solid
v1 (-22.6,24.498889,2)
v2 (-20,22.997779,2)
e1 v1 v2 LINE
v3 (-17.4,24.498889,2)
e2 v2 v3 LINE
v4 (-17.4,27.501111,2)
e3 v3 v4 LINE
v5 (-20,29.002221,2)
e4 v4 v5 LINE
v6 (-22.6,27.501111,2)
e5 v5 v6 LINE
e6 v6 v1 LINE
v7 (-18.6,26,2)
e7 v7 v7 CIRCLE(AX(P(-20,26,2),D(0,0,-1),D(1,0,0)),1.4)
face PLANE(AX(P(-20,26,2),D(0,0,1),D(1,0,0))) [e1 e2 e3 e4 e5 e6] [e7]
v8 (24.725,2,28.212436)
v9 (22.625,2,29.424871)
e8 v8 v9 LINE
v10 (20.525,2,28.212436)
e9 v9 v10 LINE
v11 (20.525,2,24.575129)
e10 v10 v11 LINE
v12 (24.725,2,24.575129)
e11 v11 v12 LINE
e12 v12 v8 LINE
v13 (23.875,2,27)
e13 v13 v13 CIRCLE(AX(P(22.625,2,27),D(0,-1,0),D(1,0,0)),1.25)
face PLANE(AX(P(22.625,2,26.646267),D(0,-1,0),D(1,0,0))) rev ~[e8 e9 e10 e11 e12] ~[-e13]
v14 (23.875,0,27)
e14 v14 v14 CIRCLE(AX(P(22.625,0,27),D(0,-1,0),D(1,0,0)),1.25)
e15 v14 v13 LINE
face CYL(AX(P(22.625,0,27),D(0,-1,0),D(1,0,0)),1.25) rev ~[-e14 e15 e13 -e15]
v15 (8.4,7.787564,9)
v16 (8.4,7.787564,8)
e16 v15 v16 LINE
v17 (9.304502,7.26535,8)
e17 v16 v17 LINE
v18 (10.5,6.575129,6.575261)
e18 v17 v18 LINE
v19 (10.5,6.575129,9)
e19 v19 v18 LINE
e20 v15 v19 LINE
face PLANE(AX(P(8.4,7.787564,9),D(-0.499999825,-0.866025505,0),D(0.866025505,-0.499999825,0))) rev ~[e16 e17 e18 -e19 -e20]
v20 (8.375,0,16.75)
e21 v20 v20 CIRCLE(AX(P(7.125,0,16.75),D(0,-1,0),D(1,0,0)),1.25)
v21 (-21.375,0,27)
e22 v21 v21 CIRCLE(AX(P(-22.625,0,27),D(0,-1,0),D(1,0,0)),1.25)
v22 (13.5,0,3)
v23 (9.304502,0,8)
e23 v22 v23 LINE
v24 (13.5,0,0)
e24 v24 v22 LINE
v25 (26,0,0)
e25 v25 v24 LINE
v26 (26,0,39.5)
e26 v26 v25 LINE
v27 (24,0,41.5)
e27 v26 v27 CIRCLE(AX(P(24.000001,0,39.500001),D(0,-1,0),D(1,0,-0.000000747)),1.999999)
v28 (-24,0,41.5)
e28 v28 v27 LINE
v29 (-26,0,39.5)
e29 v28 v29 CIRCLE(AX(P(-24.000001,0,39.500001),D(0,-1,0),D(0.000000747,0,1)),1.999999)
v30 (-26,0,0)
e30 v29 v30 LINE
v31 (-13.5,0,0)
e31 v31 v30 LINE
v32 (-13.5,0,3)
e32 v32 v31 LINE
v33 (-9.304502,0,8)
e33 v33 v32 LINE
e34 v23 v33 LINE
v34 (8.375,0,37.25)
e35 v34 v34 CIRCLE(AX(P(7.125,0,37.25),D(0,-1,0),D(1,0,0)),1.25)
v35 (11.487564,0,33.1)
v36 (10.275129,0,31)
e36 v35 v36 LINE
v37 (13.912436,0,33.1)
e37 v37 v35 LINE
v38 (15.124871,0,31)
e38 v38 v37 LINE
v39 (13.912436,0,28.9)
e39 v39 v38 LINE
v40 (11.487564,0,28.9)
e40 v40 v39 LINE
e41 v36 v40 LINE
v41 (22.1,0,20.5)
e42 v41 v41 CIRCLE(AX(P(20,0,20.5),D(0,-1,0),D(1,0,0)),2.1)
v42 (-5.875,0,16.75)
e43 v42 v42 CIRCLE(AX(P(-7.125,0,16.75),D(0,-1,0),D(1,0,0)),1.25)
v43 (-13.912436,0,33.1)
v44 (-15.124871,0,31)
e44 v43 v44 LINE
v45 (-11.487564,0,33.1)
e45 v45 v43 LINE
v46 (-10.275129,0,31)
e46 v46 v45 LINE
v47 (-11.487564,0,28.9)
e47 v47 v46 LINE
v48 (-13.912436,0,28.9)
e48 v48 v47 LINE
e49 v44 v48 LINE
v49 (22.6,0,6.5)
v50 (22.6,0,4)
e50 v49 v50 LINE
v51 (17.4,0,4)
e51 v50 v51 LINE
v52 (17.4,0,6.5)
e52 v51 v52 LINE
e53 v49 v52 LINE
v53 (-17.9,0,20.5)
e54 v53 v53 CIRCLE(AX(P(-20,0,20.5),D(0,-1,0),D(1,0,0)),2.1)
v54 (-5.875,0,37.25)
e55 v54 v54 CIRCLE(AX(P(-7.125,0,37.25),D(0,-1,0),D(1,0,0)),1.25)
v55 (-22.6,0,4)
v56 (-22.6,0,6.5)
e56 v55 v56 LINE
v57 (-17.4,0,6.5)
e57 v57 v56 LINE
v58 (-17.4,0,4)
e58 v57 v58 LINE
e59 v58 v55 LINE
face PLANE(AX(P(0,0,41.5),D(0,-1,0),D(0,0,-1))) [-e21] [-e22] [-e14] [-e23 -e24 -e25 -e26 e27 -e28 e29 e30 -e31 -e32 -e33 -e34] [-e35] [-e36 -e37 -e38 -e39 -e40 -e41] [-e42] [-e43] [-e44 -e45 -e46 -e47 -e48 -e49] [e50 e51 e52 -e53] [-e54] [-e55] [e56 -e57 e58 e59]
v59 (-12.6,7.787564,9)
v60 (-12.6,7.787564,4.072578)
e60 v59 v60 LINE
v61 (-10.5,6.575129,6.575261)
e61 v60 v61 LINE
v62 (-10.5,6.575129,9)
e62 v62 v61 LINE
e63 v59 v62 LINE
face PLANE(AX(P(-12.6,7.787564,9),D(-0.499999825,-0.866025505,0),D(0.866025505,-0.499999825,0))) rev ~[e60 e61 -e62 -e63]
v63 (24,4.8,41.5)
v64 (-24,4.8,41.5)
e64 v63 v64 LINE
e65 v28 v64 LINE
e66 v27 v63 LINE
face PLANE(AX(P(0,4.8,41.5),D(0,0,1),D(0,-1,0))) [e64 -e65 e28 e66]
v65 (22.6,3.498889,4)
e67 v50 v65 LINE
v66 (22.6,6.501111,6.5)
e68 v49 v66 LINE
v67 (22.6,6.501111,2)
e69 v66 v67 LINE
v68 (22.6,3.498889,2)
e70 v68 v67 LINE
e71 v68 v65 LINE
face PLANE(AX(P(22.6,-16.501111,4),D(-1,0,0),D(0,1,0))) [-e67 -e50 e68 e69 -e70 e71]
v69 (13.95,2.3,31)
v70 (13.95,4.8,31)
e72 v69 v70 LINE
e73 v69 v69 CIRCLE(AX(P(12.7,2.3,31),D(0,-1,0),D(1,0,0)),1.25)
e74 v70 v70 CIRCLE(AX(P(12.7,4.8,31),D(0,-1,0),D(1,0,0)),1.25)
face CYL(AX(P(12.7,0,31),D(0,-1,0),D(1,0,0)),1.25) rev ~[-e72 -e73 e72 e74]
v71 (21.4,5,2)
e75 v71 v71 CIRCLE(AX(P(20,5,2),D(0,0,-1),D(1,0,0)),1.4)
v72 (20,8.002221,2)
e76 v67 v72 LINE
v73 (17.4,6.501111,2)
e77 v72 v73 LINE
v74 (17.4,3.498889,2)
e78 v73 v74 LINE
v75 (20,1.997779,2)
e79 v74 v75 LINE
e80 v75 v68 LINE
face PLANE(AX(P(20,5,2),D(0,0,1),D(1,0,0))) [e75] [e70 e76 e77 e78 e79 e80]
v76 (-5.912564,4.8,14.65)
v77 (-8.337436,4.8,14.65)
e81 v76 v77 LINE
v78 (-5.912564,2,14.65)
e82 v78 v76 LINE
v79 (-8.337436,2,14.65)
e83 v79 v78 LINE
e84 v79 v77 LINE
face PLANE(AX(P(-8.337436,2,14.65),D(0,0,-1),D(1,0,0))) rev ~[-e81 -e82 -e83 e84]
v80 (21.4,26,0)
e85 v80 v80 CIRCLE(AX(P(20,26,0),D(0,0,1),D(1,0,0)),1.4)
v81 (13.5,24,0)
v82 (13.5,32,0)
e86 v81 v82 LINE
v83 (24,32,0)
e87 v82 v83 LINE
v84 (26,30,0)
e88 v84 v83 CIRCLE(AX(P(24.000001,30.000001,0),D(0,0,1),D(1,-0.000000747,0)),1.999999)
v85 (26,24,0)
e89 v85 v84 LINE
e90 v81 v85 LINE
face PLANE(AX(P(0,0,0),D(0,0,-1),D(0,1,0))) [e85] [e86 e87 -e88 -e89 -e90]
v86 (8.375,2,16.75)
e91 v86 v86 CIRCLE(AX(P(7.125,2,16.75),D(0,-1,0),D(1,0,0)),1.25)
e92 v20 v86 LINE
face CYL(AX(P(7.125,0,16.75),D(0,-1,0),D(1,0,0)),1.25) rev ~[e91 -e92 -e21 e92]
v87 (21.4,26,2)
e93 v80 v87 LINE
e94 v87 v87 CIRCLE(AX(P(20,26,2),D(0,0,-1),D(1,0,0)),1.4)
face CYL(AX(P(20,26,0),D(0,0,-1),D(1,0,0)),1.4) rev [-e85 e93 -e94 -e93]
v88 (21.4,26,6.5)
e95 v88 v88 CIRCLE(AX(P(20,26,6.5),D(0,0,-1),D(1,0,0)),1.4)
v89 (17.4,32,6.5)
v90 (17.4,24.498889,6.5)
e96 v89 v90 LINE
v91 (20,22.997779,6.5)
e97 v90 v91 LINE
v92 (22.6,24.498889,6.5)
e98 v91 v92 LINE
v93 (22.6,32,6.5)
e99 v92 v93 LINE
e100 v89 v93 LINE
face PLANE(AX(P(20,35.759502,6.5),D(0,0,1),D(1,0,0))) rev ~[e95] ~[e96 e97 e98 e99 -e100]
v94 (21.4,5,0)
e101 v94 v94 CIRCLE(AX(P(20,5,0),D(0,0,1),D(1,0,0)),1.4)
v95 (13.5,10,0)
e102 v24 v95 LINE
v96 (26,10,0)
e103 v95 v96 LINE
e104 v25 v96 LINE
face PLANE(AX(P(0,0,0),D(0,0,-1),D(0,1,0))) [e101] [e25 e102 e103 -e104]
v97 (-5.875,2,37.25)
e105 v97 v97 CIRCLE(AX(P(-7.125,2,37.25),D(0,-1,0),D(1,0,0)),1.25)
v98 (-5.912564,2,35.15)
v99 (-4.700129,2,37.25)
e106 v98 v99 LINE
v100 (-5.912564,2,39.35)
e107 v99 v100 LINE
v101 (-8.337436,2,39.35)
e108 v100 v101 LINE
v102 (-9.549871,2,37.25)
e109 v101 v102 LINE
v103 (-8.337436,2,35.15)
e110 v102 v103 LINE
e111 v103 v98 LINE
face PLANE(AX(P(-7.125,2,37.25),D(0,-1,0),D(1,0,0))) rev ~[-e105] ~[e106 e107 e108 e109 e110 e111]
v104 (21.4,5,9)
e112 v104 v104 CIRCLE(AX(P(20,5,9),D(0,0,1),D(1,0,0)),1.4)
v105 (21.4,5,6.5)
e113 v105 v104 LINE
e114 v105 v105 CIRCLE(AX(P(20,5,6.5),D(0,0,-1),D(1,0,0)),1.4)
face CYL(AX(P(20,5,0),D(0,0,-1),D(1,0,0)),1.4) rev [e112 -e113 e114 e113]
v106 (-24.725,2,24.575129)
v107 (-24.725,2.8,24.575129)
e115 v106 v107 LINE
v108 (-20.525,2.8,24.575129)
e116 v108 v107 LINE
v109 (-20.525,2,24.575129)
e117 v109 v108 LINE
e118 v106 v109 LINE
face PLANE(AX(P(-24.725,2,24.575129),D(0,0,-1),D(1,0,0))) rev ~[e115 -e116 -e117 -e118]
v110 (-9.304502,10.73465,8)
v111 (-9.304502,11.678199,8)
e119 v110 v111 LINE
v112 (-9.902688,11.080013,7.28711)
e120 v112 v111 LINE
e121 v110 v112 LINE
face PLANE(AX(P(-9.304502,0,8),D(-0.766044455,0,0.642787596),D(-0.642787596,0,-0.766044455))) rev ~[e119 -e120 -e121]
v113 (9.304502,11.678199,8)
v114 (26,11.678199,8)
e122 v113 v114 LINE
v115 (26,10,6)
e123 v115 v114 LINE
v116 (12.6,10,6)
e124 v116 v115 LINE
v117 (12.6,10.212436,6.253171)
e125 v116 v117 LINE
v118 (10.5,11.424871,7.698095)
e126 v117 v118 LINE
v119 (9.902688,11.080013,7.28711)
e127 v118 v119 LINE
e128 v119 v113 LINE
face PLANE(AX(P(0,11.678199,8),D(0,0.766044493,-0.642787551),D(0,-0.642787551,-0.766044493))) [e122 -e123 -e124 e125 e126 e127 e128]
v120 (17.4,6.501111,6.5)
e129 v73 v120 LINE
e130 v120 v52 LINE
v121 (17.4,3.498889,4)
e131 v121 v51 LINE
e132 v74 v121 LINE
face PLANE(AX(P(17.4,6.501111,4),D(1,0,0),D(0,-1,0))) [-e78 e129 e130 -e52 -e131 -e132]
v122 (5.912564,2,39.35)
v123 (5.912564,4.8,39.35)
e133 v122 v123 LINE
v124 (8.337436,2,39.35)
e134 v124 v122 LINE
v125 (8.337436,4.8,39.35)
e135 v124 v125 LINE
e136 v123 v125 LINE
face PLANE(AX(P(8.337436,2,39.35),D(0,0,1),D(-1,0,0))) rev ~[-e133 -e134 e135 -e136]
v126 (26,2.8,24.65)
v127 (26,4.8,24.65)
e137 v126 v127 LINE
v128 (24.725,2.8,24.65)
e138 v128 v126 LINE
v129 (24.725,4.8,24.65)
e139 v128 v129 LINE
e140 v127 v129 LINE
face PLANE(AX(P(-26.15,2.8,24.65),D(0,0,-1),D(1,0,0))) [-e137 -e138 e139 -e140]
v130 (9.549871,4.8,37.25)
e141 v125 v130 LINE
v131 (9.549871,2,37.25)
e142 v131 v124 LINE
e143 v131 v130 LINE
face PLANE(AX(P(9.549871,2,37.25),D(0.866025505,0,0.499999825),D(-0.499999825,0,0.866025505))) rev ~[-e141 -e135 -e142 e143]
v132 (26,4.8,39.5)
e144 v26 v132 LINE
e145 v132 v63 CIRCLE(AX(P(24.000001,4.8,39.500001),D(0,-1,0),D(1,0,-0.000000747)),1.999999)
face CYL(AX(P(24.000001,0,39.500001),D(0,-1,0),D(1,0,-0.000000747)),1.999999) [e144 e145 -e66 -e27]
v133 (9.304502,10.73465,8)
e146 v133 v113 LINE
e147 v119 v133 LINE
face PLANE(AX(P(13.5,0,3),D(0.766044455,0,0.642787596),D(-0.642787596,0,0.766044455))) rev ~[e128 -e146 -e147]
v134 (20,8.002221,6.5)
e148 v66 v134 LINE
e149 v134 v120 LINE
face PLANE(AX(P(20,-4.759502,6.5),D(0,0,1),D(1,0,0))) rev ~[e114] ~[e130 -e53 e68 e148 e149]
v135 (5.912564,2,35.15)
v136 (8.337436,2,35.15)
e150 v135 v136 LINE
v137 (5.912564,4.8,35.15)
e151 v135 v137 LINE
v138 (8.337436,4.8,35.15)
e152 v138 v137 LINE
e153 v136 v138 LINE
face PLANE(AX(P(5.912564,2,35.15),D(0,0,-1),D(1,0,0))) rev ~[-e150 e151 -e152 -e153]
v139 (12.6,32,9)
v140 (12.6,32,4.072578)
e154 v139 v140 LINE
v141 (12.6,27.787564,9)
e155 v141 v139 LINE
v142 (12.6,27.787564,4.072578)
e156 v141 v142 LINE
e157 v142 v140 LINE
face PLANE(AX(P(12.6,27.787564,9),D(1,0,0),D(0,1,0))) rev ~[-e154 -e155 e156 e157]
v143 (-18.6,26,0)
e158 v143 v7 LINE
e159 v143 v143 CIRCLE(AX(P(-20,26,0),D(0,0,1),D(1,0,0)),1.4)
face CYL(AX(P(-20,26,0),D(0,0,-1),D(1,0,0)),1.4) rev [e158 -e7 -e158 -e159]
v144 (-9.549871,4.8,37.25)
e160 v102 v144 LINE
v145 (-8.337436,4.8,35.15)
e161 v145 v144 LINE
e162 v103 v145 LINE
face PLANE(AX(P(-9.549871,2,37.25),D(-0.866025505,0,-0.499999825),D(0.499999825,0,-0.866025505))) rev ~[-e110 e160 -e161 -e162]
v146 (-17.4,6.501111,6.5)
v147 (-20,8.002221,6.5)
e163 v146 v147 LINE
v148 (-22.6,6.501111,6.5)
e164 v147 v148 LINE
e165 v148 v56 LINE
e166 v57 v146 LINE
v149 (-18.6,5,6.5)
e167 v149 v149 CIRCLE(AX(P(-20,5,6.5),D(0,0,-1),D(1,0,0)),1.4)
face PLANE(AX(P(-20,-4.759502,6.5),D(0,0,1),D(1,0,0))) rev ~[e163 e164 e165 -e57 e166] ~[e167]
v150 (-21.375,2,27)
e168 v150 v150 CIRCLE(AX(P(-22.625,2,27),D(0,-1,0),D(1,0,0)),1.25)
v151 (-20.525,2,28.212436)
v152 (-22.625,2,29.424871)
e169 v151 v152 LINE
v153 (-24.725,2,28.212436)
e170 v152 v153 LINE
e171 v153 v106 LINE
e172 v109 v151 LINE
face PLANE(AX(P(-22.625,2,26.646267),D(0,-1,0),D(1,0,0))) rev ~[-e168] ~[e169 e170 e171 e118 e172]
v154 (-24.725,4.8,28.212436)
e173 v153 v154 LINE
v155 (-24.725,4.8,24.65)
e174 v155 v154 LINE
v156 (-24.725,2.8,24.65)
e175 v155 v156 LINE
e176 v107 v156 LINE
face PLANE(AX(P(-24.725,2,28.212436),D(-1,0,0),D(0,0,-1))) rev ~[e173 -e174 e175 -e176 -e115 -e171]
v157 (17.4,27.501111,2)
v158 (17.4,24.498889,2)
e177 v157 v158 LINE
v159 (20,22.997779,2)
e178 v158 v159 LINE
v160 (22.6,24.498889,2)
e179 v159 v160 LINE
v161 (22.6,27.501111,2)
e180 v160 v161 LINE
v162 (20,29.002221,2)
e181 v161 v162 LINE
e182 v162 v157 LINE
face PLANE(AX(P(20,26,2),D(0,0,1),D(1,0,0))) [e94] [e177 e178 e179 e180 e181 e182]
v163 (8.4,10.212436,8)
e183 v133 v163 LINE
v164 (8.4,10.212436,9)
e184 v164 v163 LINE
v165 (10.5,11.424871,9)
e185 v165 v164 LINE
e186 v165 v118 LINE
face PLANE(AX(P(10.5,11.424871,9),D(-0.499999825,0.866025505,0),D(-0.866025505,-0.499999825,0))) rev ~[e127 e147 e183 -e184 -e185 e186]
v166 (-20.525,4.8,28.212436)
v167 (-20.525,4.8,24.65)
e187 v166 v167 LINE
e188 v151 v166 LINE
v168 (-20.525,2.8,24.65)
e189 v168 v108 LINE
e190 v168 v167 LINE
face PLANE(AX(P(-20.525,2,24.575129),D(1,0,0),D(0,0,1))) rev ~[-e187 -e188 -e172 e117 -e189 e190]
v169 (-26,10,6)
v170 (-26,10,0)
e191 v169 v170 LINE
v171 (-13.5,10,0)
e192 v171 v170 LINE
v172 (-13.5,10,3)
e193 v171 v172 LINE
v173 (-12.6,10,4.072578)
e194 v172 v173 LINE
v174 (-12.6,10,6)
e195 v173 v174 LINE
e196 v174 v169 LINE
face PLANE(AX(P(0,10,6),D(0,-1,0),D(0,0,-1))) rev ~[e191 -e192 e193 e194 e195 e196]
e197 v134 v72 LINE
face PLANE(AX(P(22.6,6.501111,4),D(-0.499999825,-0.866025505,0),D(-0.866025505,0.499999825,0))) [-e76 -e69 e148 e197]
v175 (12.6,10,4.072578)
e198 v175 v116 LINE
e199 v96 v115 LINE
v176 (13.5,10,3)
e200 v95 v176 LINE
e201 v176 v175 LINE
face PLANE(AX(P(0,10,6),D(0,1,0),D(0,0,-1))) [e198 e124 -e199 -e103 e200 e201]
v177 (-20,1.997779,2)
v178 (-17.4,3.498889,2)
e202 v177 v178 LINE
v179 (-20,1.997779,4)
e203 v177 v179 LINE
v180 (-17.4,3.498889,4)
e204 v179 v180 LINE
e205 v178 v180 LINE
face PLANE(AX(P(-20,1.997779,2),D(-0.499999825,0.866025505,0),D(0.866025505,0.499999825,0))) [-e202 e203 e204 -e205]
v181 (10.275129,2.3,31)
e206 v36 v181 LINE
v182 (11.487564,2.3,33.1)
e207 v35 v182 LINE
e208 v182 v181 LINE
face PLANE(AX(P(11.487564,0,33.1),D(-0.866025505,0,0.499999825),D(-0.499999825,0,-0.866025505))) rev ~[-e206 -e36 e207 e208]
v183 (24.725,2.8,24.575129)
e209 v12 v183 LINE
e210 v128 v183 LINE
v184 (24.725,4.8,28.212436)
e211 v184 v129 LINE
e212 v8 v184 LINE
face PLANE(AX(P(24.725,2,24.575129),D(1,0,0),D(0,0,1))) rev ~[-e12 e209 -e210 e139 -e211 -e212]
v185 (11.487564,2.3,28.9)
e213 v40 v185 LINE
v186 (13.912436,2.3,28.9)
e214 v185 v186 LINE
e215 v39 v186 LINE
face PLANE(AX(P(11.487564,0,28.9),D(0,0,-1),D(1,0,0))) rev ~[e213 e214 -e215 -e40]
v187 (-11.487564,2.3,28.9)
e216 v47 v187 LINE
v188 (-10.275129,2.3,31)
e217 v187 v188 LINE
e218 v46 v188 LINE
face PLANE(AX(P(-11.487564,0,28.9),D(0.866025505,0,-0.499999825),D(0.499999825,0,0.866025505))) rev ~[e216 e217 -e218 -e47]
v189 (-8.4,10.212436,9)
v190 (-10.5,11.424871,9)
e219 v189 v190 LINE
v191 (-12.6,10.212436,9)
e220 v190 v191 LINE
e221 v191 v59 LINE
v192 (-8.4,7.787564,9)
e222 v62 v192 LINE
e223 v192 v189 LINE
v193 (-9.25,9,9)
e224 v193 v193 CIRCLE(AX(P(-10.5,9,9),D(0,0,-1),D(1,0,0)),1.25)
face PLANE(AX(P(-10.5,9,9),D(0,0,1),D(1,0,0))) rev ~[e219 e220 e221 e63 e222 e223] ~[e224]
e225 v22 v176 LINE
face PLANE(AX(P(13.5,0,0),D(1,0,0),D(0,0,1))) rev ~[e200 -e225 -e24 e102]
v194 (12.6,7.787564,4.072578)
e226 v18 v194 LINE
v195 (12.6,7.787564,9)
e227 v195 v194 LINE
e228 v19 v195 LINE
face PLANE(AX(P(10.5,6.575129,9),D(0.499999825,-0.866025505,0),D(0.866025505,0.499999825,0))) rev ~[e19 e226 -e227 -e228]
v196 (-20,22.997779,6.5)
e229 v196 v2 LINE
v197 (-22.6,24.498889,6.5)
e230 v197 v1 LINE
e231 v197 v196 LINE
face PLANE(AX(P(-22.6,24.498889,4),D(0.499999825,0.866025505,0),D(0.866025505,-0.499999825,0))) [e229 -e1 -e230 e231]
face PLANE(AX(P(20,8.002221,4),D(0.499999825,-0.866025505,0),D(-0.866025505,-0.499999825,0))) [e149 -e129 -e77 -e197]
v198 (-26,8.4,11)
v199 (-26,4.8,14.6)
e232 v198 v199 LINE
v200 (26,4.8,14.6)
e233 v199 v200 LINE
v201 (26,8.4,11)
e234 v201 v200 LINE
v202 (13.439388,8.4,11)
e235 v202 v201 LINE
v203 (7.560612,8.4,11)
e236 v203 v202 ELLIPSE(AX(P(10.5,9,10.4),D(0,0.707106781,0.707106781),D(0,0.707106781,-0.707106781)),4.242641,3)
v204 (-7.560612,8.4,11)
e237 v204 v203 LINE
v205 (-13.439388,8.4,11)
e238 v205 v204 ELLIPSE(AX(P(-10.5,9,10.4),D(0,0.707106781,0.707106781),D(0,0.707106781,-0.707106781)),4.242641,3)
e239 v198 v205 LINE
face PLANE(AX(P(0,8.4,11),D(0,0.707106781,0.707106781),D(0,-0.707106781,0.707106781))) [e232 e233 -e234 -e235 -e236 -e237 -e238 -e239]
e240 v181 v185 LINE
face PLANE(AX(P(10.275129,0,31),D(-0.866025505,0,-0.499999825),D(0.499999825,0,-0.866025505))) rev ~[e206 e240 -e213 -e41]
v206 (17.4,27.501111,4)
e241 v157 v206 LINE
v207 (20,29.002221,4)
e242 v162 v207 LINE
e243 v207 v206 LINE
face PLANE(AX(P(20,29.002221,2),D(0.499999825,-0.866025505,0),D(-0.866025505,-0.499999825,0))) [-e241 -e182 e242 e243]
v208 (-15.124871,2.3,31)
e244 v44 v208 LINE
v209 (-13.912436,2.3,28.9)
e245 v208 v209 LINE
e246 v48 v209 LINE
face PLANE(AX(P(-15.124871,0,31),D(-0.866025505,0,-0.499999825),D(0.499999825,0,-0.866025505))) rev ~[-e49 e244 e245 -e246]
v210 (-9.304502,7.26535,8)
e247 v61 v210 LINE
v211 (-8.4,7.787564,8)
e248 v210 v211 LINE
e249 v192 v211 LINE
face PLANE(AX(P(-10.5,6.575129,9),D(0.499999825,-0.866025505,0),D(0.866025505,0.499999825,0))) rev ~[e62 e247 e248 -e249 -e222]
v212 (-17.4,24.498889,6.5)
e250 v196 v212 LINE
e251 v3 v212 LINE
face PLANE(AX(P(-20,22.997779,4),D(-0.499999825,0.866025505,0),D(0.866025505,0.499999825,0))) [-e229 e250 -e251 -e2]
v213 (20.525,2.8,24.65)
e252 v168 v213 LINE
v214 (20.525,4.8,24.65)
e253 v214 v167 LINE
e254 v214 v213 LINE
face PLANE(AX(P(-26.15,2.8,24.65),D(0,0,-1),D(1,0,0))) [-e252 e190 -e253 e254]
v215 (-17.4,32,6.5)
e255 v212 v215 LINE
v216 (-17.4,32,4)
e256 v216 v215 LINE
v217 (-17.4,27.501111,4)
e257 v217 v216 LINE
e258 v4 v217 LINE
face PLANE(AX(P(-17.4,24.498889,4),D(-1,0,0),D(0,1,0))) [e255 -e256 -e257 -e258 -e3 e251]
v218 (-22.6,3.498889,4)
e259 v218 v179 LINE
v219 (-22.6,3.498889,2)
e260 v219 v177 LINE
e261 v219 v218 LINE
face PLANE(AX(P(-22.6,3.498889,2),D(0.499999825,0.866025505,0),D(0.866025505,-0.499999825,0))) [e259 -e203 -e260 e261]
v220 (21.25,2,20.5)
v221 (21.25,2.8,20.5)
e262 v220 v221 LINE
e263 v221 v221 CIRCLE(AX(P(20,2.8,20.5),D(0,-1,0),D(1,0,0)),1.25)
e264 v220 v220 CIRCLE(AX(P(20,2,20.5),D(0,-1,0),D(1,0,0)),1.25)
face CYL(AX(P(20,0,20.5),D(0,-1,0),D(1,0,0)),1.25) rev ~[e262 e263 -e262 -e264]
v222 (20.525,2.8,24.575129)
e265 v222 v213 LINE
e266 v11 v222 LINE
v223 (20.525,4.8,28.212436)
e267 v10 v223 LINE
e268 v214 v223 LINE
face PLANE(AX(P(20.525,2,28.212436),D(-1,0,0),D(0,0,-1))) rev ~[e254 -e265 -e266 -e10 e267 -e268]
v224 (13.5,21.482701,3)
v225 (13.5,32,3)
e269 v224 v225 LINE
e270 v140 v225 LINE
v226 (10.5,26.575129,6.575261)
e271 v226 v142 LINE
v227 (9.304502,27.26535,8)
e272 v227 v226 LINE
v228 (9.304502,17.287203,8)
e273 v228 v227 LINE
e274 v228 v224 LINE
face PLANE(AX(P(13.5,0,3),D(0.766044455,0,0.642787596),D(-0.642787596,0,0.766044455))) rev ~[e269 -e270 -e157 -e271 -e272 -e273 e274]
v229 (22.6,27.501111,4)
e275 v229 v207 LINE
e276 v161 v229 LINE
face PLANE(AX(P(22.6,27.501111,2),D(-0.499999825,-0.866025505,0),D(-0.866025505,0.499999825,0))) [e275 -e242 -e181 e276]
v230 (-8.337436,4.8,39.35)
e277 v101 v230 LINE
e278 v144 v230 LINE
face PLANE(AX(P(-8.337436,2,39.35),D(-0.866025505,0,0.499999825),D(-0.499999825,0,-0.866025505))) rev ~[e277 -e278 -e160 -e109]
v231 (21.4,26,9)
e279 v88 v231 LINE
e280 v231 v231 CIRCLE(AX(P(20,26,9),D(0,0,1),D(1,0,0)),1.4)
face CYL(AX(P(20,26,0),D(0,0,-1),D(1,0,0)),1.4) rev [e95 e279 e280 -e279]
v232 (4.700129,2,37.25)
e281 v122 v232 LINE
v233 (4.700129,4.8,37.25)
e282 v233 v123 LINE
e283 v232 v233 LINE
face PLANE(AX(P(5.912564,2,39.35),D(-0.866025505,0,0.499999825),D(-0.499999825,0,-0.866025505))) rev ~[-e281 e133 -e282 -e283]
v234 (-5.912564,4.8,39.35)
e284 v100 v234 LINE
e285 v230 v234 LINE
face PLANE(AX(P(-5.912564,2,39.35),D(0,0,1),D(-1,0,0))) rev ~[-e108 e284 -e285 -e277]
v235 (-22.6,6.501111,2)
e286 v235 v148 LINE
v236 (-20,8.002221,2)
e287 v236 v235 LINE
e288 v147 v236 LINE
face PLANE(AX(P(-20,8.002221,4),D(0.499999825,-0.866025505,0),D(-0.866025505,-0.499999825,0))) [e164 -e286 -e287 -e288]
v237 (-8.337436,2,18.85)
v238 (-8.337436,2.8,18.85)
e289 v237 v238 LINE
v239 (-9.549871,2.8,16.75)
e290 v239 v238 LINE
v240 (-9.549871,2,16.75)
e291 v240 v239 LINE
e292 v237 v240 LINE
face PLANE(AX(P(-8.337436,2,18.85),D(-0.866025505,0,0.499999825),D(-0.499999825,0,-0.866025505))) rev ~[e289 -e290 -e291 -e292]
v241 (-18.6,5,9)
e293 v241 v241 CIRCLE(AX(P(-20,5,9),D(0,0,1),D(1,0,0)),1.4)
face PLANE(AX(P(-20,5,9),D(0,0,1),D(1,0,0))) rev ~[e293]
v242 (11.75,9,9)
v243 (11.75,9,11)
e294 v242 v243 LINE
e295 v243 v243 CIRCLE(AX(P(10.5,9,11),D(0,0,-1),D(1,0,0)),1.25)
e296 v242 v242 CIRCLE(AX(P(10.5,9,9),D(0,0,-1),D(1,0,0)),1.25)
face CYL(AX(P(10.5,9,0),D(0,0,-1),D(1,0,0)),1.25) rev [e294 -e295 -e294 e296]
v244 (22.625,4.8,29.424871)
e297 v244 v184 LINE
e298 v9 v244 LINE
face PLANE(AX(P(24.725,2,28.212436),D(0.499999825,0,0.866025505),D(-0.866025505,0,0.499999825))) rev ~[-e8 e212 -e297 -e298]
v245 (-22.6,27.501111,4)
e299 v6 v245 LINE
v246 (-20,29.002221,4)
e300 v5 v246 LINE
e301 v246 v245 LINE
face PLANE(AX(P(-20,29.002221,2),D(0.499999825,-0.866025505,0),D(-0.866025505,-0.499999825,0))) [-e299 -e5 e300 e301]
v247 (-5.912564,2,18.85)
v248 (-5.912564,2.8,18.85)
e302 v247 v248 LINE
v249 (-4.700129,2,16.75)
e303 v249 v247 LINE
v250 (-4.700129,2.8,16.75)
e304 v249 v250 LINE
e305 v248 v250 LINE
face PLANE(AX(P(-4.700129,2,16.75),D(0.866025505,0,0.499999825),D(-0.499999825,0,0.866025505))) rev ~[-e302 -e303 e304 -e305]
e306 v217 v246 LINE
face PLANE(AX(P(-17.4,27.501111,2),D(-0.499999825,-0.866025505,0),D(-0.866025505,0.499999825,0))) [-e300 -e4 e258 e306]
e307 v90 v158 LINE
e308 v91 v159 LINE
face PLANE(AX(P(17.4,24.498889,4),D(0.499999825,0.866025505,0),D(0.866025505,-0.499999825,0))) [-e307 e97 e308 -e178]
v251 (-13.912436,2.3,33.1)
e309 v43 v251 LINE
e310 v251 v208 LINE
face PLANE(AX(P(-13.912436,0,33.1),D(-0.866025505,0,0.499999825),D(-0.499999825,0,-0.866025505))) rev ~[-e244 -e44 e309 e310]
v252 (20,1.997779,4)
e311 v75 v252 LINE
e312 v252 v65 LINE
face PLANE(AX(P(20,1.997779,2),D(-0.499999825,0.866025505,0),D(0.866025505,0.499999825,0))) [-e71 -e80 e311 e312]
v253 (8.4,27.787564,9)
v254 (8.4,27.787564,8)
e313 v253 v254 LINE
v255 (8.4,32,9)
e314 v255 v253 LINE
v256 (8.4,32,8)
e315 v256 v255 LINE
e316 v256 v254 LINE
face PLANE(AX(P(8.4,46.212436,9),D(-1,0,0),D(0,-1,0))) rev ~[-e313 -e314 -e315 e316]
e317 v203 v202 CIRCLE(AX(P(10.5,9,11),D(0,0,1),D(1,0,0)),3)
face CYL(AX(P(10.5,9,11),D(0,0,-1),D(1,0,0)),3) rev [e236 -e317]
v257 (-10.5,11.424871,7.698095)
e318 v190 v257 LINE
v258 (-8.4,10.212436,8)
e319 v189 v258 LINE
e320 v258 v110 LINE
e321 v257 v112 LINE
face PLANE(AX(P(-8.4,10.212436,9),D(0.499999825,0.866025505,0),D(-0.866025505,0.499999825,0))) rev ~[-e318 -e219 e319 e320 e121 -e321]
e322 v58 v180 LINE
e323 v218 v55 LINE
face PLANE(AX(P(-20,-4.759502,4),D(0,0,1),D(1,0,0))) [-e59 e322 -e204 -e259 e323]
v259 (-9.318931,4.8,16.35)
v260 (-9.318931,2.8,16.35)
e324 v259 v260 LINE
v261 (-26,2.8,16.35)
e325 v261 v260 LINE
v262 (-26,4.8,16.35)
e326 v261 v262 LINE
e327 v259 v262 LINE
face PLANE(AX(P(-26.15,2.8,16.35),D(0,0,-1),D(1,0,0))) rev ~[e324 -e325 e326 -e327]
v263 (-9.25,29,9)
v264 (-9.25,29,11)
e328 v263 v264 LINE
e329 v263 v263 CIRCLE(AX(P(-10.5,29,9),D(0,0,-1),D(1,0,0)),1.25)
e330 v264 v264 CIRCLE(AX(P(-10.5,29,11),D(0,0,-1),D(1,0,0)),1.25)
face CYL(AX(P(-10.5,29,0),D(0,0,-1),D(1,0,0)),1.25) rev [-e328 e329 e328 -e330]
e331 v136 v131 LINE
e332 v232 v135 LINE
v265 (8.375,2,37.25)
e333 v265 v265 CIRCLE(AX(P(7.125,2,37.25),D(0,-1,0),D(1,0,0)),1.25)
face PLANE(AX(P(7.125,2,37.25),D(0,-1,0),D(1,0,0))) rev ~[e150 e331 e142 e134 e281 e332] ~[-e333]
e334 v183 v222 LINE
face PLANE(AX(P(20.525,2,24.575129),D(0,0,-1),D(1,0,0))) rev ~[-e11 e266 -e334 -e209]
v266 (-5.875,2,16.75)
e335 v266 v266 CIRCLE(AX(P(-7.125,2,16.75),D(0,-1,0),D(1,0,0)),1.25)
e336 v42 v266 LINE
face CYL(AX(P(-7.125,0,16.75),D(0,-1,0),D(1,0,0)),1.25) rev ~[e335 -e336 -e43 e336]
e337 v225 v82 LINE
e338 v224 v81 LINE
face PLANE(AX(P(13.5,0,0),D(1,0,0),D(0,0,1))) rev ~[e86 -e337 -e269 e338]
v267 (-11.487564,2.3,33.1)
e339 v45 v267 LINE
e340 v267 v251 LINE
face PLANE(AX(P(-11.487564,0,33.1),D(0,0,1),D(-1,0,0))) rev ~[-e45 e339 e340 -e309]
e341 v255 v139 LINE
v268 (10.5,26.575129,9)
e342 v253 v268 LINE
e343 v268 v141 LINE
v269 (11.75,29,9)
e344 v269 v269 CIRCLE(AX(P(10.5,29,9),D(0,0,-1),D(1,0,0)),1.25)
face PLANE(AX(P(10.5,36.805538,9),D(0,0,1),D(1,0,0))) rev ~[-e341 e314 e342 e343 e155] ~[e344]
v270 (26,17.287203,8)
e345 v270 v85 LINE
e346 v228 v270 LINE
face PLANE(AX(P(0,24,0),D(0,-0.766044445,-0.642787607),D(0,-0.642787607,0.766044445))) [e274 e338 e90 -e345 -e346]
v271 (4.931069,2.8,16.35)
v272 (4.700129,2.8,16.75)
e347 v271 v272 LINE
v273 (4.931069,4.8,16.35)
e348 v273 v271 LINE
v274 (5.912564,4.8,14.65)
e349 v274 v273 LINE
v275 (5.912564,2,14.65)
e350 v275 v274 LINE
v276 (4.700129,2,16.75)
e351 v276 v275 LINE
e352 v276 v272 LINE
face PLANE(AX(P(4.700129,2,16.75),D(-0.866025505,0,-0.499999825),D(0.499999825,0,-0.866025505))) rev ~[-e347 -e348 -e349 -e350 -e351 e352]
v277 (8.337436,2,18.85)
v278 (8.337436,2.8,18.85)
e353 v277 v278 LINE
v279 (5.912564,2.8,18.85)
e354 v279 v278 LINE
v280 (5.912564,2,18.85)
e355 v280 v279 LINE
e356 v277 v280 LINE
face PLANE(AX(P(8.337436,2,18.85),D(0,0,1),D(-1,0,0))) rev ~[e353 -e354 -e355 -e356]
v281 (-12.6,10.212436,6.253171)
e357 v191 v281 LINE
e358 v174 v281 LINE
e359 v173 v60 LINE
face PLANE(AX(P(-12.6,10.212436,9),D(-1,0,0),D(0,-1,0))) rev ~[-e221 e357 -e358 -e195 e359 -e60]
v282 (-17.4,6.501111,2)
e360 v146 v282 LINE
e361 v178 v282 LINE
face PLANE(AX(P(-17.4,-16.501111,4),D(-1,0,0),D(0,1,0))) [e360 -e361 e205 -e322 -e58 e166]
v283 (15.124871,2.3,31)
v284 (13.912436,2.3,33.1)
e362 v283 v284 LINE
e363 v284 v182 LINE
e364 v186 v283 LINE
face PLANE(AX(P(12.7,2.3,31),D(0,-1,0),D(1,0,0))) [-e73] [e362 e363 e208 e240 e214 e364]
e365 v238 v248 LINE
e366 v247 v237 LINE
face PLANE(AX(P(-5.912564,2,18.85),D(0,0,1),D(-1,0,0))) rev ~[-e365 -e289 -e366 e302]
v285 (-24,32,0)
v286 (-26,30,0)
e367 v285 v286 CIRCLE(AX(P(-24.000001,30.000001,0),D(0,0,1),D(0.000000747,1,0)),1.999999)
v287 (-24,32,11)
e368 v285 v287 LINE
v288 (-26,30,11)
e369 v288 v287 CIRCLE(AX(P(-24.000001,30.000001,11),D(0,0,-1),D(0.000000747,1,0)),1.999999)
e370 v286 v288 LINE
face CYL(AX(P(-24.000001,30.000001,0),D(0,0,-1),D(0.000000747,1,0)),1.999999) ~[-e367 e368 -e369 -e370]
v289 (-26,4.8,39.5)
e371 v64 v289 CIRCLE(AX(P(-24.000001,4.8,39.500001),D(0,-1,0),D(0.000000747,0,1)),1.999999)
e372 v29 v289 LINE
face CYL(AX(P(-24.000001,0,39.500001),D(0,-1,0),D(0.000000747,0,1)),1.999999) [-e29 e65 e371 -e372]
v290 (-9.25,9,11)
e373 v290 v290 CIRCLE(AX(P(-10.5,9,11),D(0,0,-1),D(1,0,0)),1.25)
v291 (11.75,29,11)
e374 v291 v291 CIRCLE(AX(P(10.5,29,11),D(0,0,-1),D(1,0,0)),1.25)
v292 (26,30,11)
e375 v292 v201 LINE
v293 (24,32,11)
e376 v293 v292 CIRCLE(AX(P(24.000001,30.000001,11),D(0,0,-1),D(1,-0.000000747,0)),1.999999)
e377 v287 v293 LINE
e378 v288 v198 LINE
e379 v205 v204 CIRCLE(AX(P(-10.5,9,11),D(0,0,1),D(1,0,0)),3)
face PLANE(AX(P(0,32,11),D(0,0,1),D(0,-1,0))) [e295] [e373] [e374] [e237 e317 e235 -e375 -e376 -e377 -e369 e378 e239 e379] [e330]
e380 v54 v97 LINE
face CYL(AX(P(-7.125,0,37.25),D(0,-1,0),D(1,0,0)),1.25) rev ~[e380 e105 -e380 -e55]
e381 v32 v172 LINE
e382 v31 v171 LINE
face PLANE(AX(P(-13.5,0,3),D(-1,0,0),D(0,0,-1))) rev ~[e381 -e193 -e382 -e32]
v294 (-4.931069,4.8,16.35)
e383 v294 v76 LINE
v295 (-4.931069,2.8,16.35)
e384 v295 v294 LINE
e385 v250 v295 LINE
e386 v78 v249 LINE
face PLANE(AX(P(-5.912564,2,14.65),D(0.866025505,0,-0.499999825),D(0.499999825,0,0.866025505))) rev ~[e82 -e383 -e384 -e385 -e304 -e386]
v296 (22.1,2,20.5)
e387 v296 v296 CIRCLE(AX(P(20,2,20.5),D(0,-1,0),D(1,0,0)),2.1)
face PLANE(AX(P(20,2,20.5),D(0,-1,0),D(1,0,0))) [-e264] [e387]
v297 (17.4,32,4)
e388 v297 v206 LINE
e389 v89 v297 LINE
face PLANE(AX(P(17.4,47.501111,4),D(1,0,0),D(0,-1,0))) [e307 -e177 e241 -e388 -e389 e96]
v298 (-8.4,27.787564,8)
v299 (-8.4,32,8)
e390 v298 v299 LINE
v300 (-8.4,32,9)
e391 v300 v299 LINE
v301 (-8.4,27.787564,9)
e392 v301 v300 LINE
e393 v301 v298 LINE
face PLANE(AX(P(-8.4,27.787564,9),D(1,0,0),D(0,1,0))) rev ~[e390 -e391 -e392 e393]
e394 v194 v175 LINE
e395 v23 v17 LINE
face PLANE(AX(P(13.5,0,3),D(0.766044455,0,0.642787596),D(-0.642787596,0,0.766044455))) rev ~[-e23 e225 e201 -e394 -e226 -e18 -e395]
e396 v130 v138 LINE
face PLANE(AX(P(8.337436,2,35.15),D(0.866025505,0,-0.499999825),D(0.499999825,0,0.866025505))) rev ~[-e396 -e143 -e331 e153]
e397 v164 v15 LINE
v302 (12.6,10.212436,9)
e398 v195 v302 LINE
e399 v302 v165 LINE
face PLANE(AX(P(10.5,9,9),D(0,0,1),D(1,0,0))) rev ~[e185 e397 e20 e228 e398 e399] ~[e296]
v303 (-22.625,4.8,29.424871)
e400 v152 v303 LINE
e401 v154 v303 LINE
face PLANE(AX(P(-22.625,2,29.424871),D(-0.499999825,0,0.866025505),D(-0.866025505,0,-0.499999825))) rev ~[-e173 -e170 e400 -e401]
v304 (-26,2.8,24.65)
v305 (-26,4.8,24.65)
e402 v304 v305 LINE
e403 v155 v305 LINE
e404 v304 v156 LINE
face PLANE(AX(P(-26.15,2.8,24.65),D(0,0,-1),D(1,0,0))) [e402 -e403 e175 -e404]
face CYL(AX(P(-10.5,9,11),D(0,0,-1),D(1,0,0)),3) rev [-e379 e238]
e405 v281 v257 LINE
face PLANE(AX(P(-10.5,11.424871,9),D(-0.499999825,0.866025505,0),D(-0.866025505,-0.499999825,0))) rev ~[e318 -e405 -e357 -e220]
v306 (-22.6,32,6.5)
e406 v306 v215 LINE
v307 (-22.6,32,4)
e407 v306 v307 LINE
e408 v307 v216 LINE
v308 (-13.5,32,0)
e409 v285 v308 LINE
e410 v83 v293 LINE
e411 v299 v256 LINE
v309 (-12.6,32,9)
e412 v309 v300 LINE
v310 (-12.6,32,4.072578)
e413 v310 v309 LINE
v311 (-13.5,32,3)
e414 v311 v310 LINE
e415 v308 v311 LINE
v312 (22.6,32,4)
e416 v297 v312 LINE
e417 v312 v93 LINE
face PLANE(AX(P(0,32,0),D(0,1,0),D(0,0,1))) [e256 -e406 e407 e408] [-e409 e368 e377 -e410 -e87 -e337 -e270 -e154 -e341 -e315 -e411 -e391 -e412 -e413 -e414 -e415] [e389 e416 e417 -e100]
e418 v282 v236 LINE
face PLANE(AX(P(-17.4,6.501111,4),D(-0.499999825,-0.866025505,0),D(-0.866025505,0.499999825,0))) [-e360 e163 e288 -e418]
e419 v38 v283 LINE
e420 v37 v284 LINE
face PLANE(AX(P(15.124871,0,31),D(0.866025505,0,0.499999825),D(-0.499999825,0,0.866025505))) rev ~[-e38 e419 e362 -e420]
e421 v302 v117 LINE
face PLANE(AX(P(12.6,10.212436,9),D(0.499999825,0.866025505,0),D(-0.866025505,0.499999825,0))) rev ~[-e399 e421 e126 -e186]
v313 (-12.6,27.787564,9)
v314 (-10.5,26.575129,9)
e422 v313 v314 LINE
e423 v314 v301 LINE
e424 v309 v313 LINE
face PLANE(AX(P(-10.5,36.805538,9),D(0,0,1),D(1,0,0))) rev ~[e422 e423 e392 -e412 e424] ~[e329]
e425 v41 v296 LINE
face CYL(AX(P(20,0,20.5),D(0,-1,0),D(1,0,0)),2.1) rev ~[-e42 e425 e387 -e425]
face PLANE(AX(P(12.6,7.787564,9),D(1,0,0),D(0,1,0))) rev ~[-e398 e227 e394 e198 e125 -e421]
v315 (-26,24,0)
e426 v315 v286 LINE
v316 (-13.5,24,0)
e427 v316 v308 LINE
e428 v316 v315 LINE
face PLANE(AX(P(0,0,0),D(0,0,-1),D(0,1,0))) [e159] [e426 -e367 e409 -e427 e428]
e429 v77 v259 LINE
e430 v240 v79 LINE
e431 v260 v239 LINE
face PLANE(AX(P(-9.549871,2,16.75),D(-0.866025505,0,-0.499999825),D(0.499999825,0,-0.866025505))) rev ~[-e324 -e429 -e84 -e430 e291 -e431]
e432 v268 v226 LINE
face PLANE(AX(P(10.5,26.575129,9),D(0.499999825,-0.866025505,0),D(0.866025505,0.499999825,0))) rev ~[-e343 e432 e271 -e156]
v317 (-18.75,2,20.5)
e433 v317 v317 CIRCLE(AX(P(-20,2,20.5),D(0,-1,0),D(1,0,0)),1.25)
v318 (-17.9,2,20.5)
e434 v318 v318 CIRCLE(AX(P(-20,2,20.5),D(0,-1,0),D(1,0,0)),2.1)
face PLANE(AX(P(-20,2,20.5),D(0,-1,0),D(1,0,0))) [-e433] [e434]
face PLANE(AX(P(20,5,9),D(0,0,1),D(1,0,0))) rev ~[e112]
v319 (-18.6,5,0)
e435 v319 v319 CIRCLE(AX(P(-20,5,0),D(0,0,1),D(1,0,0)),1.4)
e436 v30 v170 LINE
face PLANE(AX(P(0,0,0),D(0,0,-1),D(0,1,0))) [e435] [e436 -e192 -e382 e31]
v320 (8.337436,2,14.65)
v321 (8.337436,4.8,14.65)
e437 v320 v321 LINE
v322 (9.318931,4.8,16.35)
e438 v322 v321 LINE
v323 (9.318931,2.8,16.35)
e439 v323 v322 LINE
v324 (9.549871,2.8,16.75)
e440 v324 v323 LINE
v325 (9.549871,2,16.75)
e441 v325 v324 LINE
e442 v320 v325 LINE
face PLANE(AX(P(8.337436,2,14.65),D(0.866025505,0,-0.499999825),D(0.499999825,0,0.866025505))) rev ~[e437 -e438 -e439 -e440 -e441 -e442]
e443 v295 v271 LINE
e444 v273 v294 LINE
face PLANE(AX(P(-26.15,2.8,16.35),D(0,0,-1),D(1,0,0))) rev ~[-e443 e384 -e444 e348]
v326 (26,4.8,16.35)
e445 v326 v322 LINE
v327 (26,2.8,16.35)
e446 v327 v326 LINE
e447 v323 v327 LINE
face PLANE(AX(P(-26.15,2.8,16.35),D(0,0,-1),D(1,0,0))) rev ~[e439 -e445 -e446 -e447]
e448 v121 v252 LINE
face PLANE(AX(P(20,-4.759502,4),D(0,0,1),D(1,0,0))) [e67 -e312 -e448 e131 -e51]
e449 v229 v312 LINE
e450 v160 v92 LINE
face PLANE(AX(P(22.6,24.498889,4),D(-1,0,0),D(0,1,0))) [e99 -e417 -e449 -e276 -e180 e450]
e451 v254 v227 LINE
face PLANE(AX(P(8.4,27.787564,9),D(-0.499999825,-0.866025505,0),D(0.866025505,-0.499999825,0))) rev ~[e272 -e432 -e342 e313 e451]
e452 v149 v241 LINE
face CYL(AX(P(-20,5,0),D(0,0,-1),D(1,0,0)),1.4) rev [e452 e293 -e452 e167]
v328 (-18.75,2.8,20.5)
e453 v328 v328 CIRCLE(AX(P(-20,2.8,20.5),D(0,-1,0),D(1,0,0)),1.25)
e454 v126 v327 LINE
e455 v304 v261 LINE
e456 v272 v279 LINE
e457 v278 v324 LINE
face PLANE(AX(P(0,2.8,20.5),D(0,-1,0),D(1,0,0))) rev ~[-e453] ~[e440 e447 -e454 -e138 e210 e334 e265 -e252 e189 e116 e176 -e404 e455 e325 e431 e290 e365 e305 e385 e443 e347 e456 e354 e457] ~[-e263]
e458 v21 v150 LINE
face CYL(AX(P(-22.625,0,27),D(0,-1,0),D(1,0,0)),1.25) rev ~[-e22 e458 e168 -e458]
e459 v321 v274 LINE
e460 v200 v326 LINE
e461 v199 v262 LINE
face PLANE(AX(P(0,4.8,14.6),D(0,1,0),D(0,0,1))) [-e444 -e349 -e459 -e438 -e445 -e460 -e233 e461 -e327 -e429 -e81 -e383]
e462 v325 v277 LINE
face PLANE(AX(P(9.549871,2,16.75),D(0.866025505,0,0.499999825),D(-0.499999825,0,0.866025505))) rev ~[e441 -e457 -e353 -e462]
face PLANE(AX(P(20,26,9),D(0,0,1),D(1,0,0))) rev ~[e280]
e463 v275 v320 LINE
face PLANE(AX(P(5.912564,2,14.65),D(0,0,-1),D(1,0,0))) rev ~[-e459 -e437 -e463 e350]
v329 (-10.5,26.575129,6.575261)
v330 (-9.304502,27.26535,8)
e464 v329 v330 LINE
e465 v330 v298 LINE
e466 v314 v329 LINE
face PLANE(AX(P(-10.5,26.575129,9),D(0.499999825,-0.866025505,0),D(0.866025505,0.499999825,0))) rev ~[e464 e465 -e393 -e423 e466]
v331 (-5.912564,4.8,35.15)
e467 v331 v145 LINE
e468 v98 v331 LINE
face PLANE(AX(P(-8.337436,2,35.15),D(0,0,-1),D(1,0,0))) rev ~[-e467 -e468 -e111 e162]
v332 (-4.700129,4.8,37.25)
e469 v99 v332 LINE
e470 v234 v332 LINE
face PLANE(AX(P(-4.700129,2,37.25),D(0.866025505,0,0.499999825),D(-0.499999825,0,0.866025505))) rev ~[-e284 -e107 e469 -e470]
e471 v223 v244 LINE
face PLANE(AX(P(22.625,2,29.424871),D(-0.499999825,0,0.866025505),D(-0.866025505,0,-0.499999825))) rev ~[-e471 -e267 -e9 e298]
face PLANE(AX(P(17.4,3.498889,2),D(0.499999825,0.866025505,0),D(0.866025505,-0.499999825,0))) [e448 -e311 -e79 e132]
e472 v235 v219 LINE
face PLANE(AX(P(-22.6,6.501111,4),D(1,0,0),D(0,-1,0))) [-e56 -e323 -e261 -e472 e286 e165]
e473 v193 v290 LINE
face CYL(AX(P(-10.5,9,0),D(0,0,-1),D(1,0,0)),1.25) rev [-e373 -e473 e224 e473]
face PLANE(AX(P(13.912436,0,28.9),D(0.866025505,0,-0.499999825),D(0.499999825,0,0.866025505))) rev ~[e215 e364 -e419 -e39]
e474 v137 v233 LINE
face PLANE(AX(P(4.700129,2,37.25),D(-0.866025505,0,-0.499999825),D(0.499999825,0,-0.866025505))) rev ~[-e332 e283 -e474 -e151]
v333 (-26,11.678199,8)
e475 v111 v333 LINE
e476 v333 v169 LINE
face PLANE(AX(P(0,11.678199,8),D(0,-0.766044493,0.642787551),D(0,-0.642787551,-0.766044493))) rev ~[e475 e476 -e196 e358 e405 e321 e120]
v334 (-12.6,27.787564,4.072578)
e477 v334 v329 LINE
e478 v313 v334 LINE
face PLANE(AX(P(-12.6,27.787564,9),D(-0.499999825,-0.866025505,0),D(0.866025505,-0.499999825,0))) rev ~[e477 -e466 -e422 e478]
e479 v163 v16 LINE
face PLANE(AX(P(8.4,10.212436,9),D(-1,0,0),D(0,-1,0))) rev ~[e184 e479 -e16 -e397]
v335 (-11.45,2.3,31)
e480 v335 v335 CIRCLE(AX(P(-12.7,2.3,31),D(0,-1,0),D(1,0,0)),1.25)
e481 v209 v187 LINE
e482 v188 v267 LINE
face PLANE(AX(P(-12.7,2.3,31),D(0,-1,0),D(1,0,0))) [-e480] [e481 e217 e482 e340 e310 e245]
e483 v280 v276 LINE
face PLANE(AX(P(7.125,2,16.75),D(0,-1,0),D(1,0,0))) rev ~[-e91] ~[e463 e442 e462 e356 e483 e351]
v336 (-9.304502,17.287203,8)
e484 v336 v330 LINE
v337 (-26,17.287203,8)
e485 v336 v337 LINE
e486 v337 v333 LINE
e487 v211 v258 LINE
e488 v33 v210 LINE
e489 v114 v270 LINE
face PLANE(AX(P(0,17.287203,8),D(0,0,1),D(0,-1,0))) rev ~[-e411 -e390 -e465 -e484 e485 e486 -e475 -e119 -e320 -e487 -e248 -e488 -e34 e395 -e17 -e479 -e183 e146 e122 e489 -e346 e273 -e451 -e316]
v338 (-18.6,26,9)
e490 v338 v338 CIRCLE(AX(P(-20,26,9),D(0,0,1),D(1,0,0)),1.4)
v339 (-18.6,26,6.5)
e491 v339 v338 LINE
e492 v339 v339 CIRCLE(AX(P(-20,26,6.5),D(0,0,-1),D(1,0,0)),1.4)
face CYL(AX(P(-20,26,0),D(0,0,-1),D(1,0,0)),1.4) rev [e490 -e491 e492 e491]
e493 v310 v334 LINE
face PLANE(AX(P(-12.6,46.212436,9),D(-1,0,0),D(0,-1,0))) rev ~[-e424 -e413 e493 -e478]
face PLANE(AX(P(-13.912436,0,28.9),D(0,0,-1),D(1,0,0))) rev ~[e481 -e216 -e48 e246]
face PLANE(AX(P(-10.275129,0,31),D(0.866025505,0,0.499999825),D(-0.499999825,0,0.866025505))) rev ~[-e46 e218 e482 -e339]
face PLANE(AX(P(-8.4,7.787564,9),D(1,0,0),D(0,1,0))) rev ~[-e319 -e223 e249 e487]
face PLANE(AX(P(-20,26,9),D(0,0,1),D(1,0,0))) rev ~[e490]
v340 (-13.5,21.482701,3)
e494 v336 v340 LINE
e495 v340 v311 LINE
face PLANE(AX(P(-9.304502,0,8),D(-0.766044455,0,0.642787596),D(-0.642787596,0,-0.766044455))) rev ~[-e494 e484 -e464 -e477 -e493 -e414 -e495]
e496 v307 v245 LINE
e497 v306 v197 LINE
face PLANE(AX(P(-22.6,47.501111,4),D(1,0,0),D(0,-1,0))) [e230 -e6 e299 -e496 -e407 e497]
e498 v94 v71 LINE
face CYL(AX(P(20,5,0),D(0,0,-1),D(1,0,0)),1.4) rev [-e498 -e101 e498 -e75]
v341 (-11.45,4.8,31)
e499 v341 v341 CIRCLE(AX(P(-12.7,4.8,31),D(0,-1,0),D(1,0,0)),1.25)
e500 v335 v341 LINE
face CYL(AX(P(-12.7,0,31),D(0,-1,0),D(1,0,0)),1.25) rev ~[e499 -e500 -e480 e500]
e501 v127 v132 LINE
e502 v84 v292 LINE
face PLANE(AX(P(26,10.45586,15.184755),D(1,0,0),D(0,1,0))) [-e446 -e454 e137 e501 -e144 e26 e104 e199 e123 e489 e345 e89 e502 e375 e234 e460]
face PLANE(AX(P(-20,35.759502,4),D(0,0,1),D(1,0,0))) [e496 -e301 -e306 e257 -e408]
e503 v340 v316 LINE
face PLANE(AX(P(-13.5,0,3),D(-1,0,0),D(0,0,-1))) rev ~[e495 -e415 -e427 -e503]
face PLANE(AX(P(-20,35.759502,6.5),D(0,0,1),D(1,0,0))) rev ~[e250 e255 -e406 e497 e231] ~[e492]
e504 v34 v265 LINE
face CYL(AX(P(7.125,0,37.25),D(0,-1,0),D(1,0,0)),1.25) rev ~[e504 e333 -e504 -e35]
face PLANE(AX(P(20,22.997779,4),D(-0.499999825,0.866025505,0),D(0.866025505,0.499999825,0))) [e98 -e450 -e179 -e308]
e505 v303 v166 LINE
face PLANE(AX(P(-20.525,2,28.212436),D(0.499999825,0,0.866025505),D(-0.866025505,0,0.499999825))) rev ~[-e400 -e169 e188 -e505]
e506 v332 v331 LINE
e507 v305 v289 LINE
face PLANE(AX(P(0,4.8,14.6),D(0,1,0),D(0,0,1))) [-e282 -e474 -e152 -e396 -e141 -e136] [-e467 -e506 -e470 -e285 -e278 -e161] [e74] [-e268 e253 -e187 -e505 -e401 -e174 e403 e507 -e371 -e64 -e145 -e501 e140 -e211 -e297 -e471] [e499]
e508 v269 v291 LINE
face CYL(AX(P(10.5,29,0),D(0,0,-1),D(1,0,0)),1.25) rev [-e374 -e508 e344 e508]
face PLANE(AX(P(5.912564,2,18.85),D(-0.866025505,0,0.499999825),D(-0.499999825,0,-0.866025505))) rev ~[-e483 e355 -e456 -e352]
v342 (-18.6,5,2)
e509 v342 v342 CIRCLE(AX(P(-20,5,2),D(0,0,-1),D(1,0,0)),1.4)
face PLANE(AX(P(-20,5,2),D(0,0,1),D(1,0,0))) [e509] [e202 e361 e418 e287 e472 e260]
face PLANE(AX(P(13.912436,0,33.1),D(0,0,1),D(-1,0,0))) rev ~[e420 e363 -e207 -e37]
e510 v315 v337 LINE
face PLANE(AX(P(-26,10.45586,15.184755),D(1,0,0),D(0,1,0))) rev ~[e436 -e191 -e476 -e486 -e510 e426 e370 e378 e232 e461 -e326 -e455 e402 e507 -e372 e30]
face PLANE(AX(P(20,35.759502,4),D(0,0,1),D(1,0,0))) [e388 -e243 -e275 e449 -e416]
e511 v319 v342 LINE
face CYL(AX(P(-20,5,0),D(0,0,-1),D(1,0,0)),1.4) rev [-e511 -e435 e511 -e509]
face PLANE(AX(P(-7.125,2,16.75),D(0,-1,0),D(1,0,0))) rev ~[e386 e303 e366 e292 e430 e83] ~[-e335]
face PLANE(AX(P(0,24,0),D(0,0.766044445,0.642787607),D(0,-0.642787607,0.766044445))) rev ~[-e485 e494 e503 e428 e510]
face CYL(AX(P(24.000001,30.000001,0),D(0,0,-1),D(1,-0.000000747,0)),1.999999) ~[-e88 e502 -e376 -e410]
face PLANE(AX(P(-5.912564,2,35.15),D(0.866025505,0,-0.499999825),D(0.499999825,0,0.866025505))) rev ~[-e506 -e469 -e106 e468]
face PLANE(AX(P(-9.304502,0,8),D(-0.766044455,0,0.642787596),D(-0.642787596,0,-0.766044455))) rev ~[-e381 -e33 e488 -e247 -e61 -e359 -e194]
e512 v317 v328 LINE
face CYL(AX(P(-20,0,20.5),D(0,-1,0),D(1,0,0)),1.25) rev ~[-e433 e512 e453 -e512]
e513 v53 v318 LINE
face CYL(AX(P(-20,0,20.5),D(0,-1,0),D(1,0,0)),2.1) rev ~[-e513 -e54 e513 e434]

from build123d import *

# Parameters (mm, degrees)
PAD009_DEPTH         = 26
SKETCH025_R          = 1.25
POCKET011_DEPTH      = 32.001
POCKET012_DEPTH      = 32.001
SKETCH031_R          = 1.4
POCKET015_DEPTH      = 9
POCKET016_DEPTH      = 2
POCKET017_DEPTH      = 2.5
SKETCH034_R          = 1.25
POCKET018_DEPTH      = 41.501
SKETCH035_R          = 3
POCKET019_DEPTH      = 30.501
POCKET020_DEPTH      = 9.001
POCKET021_DEPTH      = 30.001
POCKET022_DEPTH      = 32.001
POCKET023_DEPTH      = 41.501
SKETCH046_R          = 1.25
POCKET026_DEPTH      = 32.001
POCKET027_DEPTH      = 2.3
POCKET034_DEPTH      = 26.001
POCKET034_DEPTH_BACK = 26.001
SKETCH065_W          = 52.3
SKETCH065_H          = 8.3
POCKET035_DEPTH      = 29.201
SKETCH066_R          = 1.25
POCKET036_DEPTH      = 32.001
SKETCH067_R          = 2.1
POCKET037_DEPTH      = 2


with BuildPart() as part:
    # Sketch016 → Pad009 (new body, symmetric)
    with BuildSketch(Plane.YZ):
        Polygon((0, 0), (32, 0), (32, 11), (8.4, 11), (4.8, 14.6), (4.8, 41.5), (0, 41.5), align=None)
    extrude(amount=PAD009_DEPTH, both=True)

    # Sketch025 → Pocket011 (cut, through all)
    with BuildSketch(Plane.XZ):
        with Locations((-22.625, 27)):
            Circle(SKETCH025_R)
        with Locations((7.125, 37.25)):
            Circle(SKETCH025_R)
        with Locations((7.125, 16.75)):
            Circle(SKETCH025_R)
        with Locations((-7.125, 37.25)):
            Circle(SKETCH025_R)
        with Locations((-7.125, 16.75)):
            Circle(SKETCH025_R)
        with Locations((22.625, 27)):
            Circle(SKETCH025_R)
    extrude(amount=-POCKET011_DEPTH, mode=Mode.SUBTRACT)

    # Sketch026 → Pocket012 (cut, through all)
    with BuildSketch(Plane.XZ):
        Polygon((-13.5, 0), (13.5, 0), (13.5, 3), (9.304502, 8), (-9.304502, 8), (-13.5, 3), align=None)
    extrude(amount=-POCKET012_DEPTH, mode=Mode.SUBTRACT)

    # Sketch031 → Pocket015 (cut)
    with BuildSketch(Plane.XY):
        with Locations((-20, 26)):
            Circle(SKETCH031_R)
        with Locations((20, 26)):
            Circle(SKETCH031_R)
        with Locations((-20, 5)):
            Circle(SKETCH031_R)
        with Locations((20, 5)):
            Circle(SKETCH031_R)
    extrude(amount=POCKET015_DEPTH, mode=Mode.SUBTRACT)

    # Sketch032 (on DatumPlane) → Pocket016 (cut)
    with BuildSketch(Plane.XY.offset(2)):
        Polygon((-20, 29.002221), (-22.6, 27.501111), (-22.6, 24.498889), (-20, 22.997779), (-17.4, 24.498889), (-17.4, 27.501111), align=None)
        Polygon((20, 29.002221), (17.4, 27.501111), (17.4, 24.498889), (20, 22.997779), (22.6, 24.498889), (22.6, 27.501111), align=None)
        Polygon((-20, 8.002221), (-22.6, 6.501111), (-22.6, 3.498889), (-20, 1.997779), (-17.4, 3.498889), (-17.4, 6.501111), align=None)
        Polygon((20, 8.002221), (17.4, 6.501111), (17.4, 3.498889), (20, 1.997779), (22.6, 3.498889), (22.6, 6.501111), align=None)
    extrude(amount=POCKET016_DEPTH, mode=Mode.SUBTRACT)

    # Sketch033 (on DatumPlane) → Pocket017 (cut)
    with BuildSketch(Plane.XY.offset(4)):
        Polygon((-20, 22.997779), (-17.4, 24.498889), (-17.4, 27.501111), (-17.4, 47.501111), (-22.6, 47.501111), (-22.6, 27.501111), (-22.6, 24.498889), align=None)
        Polygon((20, 22.997779), (22.6, 24.498889), (22.6, 27.501111), (22.6, 47.501111), (17.4, 47.501111), (17.4, 27.501111), (17.4, 24.498889), align=None)
        Polygon((-20, 8.002221), (-22.6, 6.501111), (-22.6, 3.498889), (-22.6, -16.501111), (-17.4, -16.501111), (-17.4, 3.498889), (-17.4, 6.501111), align=None)
        Polygon((20, 8.002221), (17.4, 6.501111), (17.4, 3.498889), (17.4, -16.501111), (22.6, -16.501111), (22.6, 3.498889), (22.6, 6.501111), align=None)
    extrude(amount=POCKET017_DEPTH, mode=Mode.SUBTRACT)

    # Sketch034 → Pocket018 (cut, through all)
    with BuildSketch(Plane.XY):
        with Locations((-10.5, 29)):
            Circle(SKETCH034_R)
        with Locations((10.5, 29)):
            Circle(SKETCH034_R)
        with Locations((10.5, 9)):
            Circle(SKETCH034_R)
        with Locations((-10.5, 9)):
            Circle(SKETCH034_R)
    extrude(amount=POCKET018_DEPTH, mode=Mode.SUBTRACT)

    # Sketch035 (on DatumPlane) → Pocket019 (cut, through all)
    with BuildSketch(Plane.XY.offset(11)):
        with Locations((-10.5, 9)):
            Circle(SKETCH035_R)
        with Locations((10.5, 9)):
            Circle(SKETCH035_R)
    extrude(amount=POCKET019_DEPTH, mode=Mode.SUBTRACT)

    # Sketch036 (on DatumPlane) → Pocket020 (cut, through all)
    with BuildSketch(Plane.XY.offset(9)):
        Polygon((-10.5, 26.575129), (-8.4, 27.787564), (-8.4, 30.212436), (-8.4, 46.212436), (-12.6, 46.212436), (-12.6, 30.212436), (-12.6, 27.787564), align=None)
        Polygon((10.5, 26.575129), (12.6, 27.787564), (12.6, 30.212436), (12.6, 46.212436), (8.4, 46.212436), (8.4, 30.212436), (8.4, 27.787564), align=None)
        Polygon((-10.5, 11.424871), (-12.6, 10.212436), (-12.6, 7.787564), (-10.5, 6.575129), (-8.4, 7.787564), (-8.4, 10.212436), align=None)
        Polygon((10.5, 11.424871), (8.4, 10.212436), (8.4, 7.787564), (10.5, 6.575129), (12.6, 7.787564), (12.6, 10.212436), align=None)
    extrude(amount=-POCKET020_DEPTH, mode=Mode.SUBTRACT)

    # Sketch037 (on DatumPlane) → Pocket021 (cut, through all)
    with BuildSketch(Plane.XZ.offset(-2)):
        Polygon((-22.625, 29.424871), (-24.725, 28.212436), (-24.725, 25.787564), (-24.725, 24.575129), (-20.525, 24.575129), (-20.525, 25.787564), (-20.525, 28.212436), align=None)
        Polygon((4.700129, 37.25), (5.912564, 35.15), (8.337436, 35.15), (9.549871, 37.25), (8.337436, 39.35), (5.912564, 39.35), align=None)
        Polygon((4.700129, 16.75), (5.912564, 14.65), (8.337436, 14.65), (9.549871, 16.75), (8.337436, 18.85), (5.912564, 18.85), align=None)
        Polygon((-4.700129, 37.25), (-5.912564, 39.35), (-8.337436, 39.35), (-9.549871, 37.25), (-8.337436, 35.15), (-5.912564, 35.15), align=None)
        Polygon((-9.549871, 16.75), (-8.337436, 14.65), (-5.912564, 14.65), (-4.700129, 16.75), (-5.912564, 18.85), (-8.337436, 18.85), align=None)
        Polygon((22.625, 29.424871), (20.525, 28.212436), (20.525, 25.787564), (20.525, 24.575129), (24.725, 24.575129), (24.725, 25.787564), (24.725, 28.212436), align=None)
    extrude(amount=-POCKET021_DEPTH, mode=Mode.SUBTRACT)

    # Sketch038 → Pocket022 (cut, through all)
    with BuildSketch(Plane.XZ):
        with BuildLine():
            Line((-24, 41.5), (24, 41.5))
            ThreePointArc((26, 39.5), (25.414214, 40.914214), (24, 41.5))
            Line((26, 39.5), (26, 0))
            Line((26, 0), (36, 0))
            Line((36, 51.5), (36, 0))
            Line((-36, 51.5), (36, 51.5))
            Line((-36, 0), (-36, 51.5))
            Line((-26, 0), (-36, 0))
            Line((-26, 39.5), (-26, 0))
            ThreePointArc((-24, 41.5), (-25.414214, 40.914214), (-26, 39.5))
        make_face()
    extrude(amount=-POCKET022_DEPTH, mode=Mode.SUBTRACT)

    # Sketch039 → Pocket023 (cut, through all)
    with BuildSketch(Plane.XY):
        with BuildLine():
            Line((-26, 0), (-26, 30))
            ThreePointArc((-24, 32), (-25.414214, 31.414214), (-26, 30))
            Line((-24, 32), (24, 32))
            ThreePointArc((26, 30), (25.414214, 31.414214), (24, 32))
            Line((26, 30), (26, 0))
            Line((26, 0), (36, 0))
            Line((36, 42), (36, 0))
            Line((-36, 42), (36, 42))
            Line((-36, 0), (-36, 42))
            Line((-26, 0), (-36, 0))
        make_face()
    extrude(amount=POCKET023_DEPTH, mode=Mode.SUBTRACT)

    # Sketch046 → Pocket026 (cut, through all)
    with BuildSketch(Plane.XZ):
        with Locations((-12.7, 31)):
            Circle(SKETCH046_R)
        with Locations((12.7, 31)):
            Circle(SKETCH046_R)
    extrude(amount=-POCKET026_DEPTH, mode=Mode.SUBTRACT)

    # Sketch047 → Pocket027 (cut)
    with BuildSketch(Plane.XZ):
        Polygon((15.124871, 31), (13.912436, 33.1), (11.487564, 33.1), (10.275129, 31), (11.487564, 28.9), (13.912436, 28.9), align=None)
        Polygon((-10.275129, 31), (-11.487564, 33.1), (-13.912436, 33.1), (-15.124871, 31), (-13.912436, 28.9), (-11.487564, 28.9), align=None)
    extrude(amount=-POCKET027_DEPTH, mode=Mode.SUBTRACT)

    # Sketch064 → Pocket034 (cut, two sides)
    with BuildSketch(Plane.YZ) as pocket034_sk:
        Polygon((10, 0), (24, 0), (17.287203, 8), (11.678199, 8), (10, 6), align=None)
    extrude(amount=-POCKET034_DEPTH, mode=Mode.SUBTRACT)
    extrude(pocket034_sk.sketch, amount=POCKET034_DEPTH_BACK, mode=Mode.SUBTRACT)

    # Sketch065 (on DatumPlane) → Pocket035 (cut, through all)
    with BuildSketch(Plane.XZ.offset(-2.8)):
        with Locations((0, 20.5)):
            Rectangle(SKETCH065_W, SKETCH065_H)
    extrude(amount=-POCKET035_DEPTH, mode=Mode.SUBTRACT)

    # Sketch066 → Pocket036 (cut, through all)
    with BuildSketch(Plane.XZ):
        with Locations((-20, 20.5)):
            Circle(SKETCH066_R)
        with Locations((20, 20.5)):
            Circle(SKETCH066_R)
    extrude(amount=-POCKET036_DEPTH, mode=Mode.SUBTRACT)

    # Sketch067 → Pocket037 (cut)
    with BuildSketch(Plane.XZ):
        with Locations((-20, 20.5)):
            Circle(SKETCH067_R)
        with Locations((20, 20.5)):
            Circle(SKETCH067_R)
    extrude(amount=-POCKET037_DEPTH, mode=Mode.SUBTRACT)


solid = part.part
